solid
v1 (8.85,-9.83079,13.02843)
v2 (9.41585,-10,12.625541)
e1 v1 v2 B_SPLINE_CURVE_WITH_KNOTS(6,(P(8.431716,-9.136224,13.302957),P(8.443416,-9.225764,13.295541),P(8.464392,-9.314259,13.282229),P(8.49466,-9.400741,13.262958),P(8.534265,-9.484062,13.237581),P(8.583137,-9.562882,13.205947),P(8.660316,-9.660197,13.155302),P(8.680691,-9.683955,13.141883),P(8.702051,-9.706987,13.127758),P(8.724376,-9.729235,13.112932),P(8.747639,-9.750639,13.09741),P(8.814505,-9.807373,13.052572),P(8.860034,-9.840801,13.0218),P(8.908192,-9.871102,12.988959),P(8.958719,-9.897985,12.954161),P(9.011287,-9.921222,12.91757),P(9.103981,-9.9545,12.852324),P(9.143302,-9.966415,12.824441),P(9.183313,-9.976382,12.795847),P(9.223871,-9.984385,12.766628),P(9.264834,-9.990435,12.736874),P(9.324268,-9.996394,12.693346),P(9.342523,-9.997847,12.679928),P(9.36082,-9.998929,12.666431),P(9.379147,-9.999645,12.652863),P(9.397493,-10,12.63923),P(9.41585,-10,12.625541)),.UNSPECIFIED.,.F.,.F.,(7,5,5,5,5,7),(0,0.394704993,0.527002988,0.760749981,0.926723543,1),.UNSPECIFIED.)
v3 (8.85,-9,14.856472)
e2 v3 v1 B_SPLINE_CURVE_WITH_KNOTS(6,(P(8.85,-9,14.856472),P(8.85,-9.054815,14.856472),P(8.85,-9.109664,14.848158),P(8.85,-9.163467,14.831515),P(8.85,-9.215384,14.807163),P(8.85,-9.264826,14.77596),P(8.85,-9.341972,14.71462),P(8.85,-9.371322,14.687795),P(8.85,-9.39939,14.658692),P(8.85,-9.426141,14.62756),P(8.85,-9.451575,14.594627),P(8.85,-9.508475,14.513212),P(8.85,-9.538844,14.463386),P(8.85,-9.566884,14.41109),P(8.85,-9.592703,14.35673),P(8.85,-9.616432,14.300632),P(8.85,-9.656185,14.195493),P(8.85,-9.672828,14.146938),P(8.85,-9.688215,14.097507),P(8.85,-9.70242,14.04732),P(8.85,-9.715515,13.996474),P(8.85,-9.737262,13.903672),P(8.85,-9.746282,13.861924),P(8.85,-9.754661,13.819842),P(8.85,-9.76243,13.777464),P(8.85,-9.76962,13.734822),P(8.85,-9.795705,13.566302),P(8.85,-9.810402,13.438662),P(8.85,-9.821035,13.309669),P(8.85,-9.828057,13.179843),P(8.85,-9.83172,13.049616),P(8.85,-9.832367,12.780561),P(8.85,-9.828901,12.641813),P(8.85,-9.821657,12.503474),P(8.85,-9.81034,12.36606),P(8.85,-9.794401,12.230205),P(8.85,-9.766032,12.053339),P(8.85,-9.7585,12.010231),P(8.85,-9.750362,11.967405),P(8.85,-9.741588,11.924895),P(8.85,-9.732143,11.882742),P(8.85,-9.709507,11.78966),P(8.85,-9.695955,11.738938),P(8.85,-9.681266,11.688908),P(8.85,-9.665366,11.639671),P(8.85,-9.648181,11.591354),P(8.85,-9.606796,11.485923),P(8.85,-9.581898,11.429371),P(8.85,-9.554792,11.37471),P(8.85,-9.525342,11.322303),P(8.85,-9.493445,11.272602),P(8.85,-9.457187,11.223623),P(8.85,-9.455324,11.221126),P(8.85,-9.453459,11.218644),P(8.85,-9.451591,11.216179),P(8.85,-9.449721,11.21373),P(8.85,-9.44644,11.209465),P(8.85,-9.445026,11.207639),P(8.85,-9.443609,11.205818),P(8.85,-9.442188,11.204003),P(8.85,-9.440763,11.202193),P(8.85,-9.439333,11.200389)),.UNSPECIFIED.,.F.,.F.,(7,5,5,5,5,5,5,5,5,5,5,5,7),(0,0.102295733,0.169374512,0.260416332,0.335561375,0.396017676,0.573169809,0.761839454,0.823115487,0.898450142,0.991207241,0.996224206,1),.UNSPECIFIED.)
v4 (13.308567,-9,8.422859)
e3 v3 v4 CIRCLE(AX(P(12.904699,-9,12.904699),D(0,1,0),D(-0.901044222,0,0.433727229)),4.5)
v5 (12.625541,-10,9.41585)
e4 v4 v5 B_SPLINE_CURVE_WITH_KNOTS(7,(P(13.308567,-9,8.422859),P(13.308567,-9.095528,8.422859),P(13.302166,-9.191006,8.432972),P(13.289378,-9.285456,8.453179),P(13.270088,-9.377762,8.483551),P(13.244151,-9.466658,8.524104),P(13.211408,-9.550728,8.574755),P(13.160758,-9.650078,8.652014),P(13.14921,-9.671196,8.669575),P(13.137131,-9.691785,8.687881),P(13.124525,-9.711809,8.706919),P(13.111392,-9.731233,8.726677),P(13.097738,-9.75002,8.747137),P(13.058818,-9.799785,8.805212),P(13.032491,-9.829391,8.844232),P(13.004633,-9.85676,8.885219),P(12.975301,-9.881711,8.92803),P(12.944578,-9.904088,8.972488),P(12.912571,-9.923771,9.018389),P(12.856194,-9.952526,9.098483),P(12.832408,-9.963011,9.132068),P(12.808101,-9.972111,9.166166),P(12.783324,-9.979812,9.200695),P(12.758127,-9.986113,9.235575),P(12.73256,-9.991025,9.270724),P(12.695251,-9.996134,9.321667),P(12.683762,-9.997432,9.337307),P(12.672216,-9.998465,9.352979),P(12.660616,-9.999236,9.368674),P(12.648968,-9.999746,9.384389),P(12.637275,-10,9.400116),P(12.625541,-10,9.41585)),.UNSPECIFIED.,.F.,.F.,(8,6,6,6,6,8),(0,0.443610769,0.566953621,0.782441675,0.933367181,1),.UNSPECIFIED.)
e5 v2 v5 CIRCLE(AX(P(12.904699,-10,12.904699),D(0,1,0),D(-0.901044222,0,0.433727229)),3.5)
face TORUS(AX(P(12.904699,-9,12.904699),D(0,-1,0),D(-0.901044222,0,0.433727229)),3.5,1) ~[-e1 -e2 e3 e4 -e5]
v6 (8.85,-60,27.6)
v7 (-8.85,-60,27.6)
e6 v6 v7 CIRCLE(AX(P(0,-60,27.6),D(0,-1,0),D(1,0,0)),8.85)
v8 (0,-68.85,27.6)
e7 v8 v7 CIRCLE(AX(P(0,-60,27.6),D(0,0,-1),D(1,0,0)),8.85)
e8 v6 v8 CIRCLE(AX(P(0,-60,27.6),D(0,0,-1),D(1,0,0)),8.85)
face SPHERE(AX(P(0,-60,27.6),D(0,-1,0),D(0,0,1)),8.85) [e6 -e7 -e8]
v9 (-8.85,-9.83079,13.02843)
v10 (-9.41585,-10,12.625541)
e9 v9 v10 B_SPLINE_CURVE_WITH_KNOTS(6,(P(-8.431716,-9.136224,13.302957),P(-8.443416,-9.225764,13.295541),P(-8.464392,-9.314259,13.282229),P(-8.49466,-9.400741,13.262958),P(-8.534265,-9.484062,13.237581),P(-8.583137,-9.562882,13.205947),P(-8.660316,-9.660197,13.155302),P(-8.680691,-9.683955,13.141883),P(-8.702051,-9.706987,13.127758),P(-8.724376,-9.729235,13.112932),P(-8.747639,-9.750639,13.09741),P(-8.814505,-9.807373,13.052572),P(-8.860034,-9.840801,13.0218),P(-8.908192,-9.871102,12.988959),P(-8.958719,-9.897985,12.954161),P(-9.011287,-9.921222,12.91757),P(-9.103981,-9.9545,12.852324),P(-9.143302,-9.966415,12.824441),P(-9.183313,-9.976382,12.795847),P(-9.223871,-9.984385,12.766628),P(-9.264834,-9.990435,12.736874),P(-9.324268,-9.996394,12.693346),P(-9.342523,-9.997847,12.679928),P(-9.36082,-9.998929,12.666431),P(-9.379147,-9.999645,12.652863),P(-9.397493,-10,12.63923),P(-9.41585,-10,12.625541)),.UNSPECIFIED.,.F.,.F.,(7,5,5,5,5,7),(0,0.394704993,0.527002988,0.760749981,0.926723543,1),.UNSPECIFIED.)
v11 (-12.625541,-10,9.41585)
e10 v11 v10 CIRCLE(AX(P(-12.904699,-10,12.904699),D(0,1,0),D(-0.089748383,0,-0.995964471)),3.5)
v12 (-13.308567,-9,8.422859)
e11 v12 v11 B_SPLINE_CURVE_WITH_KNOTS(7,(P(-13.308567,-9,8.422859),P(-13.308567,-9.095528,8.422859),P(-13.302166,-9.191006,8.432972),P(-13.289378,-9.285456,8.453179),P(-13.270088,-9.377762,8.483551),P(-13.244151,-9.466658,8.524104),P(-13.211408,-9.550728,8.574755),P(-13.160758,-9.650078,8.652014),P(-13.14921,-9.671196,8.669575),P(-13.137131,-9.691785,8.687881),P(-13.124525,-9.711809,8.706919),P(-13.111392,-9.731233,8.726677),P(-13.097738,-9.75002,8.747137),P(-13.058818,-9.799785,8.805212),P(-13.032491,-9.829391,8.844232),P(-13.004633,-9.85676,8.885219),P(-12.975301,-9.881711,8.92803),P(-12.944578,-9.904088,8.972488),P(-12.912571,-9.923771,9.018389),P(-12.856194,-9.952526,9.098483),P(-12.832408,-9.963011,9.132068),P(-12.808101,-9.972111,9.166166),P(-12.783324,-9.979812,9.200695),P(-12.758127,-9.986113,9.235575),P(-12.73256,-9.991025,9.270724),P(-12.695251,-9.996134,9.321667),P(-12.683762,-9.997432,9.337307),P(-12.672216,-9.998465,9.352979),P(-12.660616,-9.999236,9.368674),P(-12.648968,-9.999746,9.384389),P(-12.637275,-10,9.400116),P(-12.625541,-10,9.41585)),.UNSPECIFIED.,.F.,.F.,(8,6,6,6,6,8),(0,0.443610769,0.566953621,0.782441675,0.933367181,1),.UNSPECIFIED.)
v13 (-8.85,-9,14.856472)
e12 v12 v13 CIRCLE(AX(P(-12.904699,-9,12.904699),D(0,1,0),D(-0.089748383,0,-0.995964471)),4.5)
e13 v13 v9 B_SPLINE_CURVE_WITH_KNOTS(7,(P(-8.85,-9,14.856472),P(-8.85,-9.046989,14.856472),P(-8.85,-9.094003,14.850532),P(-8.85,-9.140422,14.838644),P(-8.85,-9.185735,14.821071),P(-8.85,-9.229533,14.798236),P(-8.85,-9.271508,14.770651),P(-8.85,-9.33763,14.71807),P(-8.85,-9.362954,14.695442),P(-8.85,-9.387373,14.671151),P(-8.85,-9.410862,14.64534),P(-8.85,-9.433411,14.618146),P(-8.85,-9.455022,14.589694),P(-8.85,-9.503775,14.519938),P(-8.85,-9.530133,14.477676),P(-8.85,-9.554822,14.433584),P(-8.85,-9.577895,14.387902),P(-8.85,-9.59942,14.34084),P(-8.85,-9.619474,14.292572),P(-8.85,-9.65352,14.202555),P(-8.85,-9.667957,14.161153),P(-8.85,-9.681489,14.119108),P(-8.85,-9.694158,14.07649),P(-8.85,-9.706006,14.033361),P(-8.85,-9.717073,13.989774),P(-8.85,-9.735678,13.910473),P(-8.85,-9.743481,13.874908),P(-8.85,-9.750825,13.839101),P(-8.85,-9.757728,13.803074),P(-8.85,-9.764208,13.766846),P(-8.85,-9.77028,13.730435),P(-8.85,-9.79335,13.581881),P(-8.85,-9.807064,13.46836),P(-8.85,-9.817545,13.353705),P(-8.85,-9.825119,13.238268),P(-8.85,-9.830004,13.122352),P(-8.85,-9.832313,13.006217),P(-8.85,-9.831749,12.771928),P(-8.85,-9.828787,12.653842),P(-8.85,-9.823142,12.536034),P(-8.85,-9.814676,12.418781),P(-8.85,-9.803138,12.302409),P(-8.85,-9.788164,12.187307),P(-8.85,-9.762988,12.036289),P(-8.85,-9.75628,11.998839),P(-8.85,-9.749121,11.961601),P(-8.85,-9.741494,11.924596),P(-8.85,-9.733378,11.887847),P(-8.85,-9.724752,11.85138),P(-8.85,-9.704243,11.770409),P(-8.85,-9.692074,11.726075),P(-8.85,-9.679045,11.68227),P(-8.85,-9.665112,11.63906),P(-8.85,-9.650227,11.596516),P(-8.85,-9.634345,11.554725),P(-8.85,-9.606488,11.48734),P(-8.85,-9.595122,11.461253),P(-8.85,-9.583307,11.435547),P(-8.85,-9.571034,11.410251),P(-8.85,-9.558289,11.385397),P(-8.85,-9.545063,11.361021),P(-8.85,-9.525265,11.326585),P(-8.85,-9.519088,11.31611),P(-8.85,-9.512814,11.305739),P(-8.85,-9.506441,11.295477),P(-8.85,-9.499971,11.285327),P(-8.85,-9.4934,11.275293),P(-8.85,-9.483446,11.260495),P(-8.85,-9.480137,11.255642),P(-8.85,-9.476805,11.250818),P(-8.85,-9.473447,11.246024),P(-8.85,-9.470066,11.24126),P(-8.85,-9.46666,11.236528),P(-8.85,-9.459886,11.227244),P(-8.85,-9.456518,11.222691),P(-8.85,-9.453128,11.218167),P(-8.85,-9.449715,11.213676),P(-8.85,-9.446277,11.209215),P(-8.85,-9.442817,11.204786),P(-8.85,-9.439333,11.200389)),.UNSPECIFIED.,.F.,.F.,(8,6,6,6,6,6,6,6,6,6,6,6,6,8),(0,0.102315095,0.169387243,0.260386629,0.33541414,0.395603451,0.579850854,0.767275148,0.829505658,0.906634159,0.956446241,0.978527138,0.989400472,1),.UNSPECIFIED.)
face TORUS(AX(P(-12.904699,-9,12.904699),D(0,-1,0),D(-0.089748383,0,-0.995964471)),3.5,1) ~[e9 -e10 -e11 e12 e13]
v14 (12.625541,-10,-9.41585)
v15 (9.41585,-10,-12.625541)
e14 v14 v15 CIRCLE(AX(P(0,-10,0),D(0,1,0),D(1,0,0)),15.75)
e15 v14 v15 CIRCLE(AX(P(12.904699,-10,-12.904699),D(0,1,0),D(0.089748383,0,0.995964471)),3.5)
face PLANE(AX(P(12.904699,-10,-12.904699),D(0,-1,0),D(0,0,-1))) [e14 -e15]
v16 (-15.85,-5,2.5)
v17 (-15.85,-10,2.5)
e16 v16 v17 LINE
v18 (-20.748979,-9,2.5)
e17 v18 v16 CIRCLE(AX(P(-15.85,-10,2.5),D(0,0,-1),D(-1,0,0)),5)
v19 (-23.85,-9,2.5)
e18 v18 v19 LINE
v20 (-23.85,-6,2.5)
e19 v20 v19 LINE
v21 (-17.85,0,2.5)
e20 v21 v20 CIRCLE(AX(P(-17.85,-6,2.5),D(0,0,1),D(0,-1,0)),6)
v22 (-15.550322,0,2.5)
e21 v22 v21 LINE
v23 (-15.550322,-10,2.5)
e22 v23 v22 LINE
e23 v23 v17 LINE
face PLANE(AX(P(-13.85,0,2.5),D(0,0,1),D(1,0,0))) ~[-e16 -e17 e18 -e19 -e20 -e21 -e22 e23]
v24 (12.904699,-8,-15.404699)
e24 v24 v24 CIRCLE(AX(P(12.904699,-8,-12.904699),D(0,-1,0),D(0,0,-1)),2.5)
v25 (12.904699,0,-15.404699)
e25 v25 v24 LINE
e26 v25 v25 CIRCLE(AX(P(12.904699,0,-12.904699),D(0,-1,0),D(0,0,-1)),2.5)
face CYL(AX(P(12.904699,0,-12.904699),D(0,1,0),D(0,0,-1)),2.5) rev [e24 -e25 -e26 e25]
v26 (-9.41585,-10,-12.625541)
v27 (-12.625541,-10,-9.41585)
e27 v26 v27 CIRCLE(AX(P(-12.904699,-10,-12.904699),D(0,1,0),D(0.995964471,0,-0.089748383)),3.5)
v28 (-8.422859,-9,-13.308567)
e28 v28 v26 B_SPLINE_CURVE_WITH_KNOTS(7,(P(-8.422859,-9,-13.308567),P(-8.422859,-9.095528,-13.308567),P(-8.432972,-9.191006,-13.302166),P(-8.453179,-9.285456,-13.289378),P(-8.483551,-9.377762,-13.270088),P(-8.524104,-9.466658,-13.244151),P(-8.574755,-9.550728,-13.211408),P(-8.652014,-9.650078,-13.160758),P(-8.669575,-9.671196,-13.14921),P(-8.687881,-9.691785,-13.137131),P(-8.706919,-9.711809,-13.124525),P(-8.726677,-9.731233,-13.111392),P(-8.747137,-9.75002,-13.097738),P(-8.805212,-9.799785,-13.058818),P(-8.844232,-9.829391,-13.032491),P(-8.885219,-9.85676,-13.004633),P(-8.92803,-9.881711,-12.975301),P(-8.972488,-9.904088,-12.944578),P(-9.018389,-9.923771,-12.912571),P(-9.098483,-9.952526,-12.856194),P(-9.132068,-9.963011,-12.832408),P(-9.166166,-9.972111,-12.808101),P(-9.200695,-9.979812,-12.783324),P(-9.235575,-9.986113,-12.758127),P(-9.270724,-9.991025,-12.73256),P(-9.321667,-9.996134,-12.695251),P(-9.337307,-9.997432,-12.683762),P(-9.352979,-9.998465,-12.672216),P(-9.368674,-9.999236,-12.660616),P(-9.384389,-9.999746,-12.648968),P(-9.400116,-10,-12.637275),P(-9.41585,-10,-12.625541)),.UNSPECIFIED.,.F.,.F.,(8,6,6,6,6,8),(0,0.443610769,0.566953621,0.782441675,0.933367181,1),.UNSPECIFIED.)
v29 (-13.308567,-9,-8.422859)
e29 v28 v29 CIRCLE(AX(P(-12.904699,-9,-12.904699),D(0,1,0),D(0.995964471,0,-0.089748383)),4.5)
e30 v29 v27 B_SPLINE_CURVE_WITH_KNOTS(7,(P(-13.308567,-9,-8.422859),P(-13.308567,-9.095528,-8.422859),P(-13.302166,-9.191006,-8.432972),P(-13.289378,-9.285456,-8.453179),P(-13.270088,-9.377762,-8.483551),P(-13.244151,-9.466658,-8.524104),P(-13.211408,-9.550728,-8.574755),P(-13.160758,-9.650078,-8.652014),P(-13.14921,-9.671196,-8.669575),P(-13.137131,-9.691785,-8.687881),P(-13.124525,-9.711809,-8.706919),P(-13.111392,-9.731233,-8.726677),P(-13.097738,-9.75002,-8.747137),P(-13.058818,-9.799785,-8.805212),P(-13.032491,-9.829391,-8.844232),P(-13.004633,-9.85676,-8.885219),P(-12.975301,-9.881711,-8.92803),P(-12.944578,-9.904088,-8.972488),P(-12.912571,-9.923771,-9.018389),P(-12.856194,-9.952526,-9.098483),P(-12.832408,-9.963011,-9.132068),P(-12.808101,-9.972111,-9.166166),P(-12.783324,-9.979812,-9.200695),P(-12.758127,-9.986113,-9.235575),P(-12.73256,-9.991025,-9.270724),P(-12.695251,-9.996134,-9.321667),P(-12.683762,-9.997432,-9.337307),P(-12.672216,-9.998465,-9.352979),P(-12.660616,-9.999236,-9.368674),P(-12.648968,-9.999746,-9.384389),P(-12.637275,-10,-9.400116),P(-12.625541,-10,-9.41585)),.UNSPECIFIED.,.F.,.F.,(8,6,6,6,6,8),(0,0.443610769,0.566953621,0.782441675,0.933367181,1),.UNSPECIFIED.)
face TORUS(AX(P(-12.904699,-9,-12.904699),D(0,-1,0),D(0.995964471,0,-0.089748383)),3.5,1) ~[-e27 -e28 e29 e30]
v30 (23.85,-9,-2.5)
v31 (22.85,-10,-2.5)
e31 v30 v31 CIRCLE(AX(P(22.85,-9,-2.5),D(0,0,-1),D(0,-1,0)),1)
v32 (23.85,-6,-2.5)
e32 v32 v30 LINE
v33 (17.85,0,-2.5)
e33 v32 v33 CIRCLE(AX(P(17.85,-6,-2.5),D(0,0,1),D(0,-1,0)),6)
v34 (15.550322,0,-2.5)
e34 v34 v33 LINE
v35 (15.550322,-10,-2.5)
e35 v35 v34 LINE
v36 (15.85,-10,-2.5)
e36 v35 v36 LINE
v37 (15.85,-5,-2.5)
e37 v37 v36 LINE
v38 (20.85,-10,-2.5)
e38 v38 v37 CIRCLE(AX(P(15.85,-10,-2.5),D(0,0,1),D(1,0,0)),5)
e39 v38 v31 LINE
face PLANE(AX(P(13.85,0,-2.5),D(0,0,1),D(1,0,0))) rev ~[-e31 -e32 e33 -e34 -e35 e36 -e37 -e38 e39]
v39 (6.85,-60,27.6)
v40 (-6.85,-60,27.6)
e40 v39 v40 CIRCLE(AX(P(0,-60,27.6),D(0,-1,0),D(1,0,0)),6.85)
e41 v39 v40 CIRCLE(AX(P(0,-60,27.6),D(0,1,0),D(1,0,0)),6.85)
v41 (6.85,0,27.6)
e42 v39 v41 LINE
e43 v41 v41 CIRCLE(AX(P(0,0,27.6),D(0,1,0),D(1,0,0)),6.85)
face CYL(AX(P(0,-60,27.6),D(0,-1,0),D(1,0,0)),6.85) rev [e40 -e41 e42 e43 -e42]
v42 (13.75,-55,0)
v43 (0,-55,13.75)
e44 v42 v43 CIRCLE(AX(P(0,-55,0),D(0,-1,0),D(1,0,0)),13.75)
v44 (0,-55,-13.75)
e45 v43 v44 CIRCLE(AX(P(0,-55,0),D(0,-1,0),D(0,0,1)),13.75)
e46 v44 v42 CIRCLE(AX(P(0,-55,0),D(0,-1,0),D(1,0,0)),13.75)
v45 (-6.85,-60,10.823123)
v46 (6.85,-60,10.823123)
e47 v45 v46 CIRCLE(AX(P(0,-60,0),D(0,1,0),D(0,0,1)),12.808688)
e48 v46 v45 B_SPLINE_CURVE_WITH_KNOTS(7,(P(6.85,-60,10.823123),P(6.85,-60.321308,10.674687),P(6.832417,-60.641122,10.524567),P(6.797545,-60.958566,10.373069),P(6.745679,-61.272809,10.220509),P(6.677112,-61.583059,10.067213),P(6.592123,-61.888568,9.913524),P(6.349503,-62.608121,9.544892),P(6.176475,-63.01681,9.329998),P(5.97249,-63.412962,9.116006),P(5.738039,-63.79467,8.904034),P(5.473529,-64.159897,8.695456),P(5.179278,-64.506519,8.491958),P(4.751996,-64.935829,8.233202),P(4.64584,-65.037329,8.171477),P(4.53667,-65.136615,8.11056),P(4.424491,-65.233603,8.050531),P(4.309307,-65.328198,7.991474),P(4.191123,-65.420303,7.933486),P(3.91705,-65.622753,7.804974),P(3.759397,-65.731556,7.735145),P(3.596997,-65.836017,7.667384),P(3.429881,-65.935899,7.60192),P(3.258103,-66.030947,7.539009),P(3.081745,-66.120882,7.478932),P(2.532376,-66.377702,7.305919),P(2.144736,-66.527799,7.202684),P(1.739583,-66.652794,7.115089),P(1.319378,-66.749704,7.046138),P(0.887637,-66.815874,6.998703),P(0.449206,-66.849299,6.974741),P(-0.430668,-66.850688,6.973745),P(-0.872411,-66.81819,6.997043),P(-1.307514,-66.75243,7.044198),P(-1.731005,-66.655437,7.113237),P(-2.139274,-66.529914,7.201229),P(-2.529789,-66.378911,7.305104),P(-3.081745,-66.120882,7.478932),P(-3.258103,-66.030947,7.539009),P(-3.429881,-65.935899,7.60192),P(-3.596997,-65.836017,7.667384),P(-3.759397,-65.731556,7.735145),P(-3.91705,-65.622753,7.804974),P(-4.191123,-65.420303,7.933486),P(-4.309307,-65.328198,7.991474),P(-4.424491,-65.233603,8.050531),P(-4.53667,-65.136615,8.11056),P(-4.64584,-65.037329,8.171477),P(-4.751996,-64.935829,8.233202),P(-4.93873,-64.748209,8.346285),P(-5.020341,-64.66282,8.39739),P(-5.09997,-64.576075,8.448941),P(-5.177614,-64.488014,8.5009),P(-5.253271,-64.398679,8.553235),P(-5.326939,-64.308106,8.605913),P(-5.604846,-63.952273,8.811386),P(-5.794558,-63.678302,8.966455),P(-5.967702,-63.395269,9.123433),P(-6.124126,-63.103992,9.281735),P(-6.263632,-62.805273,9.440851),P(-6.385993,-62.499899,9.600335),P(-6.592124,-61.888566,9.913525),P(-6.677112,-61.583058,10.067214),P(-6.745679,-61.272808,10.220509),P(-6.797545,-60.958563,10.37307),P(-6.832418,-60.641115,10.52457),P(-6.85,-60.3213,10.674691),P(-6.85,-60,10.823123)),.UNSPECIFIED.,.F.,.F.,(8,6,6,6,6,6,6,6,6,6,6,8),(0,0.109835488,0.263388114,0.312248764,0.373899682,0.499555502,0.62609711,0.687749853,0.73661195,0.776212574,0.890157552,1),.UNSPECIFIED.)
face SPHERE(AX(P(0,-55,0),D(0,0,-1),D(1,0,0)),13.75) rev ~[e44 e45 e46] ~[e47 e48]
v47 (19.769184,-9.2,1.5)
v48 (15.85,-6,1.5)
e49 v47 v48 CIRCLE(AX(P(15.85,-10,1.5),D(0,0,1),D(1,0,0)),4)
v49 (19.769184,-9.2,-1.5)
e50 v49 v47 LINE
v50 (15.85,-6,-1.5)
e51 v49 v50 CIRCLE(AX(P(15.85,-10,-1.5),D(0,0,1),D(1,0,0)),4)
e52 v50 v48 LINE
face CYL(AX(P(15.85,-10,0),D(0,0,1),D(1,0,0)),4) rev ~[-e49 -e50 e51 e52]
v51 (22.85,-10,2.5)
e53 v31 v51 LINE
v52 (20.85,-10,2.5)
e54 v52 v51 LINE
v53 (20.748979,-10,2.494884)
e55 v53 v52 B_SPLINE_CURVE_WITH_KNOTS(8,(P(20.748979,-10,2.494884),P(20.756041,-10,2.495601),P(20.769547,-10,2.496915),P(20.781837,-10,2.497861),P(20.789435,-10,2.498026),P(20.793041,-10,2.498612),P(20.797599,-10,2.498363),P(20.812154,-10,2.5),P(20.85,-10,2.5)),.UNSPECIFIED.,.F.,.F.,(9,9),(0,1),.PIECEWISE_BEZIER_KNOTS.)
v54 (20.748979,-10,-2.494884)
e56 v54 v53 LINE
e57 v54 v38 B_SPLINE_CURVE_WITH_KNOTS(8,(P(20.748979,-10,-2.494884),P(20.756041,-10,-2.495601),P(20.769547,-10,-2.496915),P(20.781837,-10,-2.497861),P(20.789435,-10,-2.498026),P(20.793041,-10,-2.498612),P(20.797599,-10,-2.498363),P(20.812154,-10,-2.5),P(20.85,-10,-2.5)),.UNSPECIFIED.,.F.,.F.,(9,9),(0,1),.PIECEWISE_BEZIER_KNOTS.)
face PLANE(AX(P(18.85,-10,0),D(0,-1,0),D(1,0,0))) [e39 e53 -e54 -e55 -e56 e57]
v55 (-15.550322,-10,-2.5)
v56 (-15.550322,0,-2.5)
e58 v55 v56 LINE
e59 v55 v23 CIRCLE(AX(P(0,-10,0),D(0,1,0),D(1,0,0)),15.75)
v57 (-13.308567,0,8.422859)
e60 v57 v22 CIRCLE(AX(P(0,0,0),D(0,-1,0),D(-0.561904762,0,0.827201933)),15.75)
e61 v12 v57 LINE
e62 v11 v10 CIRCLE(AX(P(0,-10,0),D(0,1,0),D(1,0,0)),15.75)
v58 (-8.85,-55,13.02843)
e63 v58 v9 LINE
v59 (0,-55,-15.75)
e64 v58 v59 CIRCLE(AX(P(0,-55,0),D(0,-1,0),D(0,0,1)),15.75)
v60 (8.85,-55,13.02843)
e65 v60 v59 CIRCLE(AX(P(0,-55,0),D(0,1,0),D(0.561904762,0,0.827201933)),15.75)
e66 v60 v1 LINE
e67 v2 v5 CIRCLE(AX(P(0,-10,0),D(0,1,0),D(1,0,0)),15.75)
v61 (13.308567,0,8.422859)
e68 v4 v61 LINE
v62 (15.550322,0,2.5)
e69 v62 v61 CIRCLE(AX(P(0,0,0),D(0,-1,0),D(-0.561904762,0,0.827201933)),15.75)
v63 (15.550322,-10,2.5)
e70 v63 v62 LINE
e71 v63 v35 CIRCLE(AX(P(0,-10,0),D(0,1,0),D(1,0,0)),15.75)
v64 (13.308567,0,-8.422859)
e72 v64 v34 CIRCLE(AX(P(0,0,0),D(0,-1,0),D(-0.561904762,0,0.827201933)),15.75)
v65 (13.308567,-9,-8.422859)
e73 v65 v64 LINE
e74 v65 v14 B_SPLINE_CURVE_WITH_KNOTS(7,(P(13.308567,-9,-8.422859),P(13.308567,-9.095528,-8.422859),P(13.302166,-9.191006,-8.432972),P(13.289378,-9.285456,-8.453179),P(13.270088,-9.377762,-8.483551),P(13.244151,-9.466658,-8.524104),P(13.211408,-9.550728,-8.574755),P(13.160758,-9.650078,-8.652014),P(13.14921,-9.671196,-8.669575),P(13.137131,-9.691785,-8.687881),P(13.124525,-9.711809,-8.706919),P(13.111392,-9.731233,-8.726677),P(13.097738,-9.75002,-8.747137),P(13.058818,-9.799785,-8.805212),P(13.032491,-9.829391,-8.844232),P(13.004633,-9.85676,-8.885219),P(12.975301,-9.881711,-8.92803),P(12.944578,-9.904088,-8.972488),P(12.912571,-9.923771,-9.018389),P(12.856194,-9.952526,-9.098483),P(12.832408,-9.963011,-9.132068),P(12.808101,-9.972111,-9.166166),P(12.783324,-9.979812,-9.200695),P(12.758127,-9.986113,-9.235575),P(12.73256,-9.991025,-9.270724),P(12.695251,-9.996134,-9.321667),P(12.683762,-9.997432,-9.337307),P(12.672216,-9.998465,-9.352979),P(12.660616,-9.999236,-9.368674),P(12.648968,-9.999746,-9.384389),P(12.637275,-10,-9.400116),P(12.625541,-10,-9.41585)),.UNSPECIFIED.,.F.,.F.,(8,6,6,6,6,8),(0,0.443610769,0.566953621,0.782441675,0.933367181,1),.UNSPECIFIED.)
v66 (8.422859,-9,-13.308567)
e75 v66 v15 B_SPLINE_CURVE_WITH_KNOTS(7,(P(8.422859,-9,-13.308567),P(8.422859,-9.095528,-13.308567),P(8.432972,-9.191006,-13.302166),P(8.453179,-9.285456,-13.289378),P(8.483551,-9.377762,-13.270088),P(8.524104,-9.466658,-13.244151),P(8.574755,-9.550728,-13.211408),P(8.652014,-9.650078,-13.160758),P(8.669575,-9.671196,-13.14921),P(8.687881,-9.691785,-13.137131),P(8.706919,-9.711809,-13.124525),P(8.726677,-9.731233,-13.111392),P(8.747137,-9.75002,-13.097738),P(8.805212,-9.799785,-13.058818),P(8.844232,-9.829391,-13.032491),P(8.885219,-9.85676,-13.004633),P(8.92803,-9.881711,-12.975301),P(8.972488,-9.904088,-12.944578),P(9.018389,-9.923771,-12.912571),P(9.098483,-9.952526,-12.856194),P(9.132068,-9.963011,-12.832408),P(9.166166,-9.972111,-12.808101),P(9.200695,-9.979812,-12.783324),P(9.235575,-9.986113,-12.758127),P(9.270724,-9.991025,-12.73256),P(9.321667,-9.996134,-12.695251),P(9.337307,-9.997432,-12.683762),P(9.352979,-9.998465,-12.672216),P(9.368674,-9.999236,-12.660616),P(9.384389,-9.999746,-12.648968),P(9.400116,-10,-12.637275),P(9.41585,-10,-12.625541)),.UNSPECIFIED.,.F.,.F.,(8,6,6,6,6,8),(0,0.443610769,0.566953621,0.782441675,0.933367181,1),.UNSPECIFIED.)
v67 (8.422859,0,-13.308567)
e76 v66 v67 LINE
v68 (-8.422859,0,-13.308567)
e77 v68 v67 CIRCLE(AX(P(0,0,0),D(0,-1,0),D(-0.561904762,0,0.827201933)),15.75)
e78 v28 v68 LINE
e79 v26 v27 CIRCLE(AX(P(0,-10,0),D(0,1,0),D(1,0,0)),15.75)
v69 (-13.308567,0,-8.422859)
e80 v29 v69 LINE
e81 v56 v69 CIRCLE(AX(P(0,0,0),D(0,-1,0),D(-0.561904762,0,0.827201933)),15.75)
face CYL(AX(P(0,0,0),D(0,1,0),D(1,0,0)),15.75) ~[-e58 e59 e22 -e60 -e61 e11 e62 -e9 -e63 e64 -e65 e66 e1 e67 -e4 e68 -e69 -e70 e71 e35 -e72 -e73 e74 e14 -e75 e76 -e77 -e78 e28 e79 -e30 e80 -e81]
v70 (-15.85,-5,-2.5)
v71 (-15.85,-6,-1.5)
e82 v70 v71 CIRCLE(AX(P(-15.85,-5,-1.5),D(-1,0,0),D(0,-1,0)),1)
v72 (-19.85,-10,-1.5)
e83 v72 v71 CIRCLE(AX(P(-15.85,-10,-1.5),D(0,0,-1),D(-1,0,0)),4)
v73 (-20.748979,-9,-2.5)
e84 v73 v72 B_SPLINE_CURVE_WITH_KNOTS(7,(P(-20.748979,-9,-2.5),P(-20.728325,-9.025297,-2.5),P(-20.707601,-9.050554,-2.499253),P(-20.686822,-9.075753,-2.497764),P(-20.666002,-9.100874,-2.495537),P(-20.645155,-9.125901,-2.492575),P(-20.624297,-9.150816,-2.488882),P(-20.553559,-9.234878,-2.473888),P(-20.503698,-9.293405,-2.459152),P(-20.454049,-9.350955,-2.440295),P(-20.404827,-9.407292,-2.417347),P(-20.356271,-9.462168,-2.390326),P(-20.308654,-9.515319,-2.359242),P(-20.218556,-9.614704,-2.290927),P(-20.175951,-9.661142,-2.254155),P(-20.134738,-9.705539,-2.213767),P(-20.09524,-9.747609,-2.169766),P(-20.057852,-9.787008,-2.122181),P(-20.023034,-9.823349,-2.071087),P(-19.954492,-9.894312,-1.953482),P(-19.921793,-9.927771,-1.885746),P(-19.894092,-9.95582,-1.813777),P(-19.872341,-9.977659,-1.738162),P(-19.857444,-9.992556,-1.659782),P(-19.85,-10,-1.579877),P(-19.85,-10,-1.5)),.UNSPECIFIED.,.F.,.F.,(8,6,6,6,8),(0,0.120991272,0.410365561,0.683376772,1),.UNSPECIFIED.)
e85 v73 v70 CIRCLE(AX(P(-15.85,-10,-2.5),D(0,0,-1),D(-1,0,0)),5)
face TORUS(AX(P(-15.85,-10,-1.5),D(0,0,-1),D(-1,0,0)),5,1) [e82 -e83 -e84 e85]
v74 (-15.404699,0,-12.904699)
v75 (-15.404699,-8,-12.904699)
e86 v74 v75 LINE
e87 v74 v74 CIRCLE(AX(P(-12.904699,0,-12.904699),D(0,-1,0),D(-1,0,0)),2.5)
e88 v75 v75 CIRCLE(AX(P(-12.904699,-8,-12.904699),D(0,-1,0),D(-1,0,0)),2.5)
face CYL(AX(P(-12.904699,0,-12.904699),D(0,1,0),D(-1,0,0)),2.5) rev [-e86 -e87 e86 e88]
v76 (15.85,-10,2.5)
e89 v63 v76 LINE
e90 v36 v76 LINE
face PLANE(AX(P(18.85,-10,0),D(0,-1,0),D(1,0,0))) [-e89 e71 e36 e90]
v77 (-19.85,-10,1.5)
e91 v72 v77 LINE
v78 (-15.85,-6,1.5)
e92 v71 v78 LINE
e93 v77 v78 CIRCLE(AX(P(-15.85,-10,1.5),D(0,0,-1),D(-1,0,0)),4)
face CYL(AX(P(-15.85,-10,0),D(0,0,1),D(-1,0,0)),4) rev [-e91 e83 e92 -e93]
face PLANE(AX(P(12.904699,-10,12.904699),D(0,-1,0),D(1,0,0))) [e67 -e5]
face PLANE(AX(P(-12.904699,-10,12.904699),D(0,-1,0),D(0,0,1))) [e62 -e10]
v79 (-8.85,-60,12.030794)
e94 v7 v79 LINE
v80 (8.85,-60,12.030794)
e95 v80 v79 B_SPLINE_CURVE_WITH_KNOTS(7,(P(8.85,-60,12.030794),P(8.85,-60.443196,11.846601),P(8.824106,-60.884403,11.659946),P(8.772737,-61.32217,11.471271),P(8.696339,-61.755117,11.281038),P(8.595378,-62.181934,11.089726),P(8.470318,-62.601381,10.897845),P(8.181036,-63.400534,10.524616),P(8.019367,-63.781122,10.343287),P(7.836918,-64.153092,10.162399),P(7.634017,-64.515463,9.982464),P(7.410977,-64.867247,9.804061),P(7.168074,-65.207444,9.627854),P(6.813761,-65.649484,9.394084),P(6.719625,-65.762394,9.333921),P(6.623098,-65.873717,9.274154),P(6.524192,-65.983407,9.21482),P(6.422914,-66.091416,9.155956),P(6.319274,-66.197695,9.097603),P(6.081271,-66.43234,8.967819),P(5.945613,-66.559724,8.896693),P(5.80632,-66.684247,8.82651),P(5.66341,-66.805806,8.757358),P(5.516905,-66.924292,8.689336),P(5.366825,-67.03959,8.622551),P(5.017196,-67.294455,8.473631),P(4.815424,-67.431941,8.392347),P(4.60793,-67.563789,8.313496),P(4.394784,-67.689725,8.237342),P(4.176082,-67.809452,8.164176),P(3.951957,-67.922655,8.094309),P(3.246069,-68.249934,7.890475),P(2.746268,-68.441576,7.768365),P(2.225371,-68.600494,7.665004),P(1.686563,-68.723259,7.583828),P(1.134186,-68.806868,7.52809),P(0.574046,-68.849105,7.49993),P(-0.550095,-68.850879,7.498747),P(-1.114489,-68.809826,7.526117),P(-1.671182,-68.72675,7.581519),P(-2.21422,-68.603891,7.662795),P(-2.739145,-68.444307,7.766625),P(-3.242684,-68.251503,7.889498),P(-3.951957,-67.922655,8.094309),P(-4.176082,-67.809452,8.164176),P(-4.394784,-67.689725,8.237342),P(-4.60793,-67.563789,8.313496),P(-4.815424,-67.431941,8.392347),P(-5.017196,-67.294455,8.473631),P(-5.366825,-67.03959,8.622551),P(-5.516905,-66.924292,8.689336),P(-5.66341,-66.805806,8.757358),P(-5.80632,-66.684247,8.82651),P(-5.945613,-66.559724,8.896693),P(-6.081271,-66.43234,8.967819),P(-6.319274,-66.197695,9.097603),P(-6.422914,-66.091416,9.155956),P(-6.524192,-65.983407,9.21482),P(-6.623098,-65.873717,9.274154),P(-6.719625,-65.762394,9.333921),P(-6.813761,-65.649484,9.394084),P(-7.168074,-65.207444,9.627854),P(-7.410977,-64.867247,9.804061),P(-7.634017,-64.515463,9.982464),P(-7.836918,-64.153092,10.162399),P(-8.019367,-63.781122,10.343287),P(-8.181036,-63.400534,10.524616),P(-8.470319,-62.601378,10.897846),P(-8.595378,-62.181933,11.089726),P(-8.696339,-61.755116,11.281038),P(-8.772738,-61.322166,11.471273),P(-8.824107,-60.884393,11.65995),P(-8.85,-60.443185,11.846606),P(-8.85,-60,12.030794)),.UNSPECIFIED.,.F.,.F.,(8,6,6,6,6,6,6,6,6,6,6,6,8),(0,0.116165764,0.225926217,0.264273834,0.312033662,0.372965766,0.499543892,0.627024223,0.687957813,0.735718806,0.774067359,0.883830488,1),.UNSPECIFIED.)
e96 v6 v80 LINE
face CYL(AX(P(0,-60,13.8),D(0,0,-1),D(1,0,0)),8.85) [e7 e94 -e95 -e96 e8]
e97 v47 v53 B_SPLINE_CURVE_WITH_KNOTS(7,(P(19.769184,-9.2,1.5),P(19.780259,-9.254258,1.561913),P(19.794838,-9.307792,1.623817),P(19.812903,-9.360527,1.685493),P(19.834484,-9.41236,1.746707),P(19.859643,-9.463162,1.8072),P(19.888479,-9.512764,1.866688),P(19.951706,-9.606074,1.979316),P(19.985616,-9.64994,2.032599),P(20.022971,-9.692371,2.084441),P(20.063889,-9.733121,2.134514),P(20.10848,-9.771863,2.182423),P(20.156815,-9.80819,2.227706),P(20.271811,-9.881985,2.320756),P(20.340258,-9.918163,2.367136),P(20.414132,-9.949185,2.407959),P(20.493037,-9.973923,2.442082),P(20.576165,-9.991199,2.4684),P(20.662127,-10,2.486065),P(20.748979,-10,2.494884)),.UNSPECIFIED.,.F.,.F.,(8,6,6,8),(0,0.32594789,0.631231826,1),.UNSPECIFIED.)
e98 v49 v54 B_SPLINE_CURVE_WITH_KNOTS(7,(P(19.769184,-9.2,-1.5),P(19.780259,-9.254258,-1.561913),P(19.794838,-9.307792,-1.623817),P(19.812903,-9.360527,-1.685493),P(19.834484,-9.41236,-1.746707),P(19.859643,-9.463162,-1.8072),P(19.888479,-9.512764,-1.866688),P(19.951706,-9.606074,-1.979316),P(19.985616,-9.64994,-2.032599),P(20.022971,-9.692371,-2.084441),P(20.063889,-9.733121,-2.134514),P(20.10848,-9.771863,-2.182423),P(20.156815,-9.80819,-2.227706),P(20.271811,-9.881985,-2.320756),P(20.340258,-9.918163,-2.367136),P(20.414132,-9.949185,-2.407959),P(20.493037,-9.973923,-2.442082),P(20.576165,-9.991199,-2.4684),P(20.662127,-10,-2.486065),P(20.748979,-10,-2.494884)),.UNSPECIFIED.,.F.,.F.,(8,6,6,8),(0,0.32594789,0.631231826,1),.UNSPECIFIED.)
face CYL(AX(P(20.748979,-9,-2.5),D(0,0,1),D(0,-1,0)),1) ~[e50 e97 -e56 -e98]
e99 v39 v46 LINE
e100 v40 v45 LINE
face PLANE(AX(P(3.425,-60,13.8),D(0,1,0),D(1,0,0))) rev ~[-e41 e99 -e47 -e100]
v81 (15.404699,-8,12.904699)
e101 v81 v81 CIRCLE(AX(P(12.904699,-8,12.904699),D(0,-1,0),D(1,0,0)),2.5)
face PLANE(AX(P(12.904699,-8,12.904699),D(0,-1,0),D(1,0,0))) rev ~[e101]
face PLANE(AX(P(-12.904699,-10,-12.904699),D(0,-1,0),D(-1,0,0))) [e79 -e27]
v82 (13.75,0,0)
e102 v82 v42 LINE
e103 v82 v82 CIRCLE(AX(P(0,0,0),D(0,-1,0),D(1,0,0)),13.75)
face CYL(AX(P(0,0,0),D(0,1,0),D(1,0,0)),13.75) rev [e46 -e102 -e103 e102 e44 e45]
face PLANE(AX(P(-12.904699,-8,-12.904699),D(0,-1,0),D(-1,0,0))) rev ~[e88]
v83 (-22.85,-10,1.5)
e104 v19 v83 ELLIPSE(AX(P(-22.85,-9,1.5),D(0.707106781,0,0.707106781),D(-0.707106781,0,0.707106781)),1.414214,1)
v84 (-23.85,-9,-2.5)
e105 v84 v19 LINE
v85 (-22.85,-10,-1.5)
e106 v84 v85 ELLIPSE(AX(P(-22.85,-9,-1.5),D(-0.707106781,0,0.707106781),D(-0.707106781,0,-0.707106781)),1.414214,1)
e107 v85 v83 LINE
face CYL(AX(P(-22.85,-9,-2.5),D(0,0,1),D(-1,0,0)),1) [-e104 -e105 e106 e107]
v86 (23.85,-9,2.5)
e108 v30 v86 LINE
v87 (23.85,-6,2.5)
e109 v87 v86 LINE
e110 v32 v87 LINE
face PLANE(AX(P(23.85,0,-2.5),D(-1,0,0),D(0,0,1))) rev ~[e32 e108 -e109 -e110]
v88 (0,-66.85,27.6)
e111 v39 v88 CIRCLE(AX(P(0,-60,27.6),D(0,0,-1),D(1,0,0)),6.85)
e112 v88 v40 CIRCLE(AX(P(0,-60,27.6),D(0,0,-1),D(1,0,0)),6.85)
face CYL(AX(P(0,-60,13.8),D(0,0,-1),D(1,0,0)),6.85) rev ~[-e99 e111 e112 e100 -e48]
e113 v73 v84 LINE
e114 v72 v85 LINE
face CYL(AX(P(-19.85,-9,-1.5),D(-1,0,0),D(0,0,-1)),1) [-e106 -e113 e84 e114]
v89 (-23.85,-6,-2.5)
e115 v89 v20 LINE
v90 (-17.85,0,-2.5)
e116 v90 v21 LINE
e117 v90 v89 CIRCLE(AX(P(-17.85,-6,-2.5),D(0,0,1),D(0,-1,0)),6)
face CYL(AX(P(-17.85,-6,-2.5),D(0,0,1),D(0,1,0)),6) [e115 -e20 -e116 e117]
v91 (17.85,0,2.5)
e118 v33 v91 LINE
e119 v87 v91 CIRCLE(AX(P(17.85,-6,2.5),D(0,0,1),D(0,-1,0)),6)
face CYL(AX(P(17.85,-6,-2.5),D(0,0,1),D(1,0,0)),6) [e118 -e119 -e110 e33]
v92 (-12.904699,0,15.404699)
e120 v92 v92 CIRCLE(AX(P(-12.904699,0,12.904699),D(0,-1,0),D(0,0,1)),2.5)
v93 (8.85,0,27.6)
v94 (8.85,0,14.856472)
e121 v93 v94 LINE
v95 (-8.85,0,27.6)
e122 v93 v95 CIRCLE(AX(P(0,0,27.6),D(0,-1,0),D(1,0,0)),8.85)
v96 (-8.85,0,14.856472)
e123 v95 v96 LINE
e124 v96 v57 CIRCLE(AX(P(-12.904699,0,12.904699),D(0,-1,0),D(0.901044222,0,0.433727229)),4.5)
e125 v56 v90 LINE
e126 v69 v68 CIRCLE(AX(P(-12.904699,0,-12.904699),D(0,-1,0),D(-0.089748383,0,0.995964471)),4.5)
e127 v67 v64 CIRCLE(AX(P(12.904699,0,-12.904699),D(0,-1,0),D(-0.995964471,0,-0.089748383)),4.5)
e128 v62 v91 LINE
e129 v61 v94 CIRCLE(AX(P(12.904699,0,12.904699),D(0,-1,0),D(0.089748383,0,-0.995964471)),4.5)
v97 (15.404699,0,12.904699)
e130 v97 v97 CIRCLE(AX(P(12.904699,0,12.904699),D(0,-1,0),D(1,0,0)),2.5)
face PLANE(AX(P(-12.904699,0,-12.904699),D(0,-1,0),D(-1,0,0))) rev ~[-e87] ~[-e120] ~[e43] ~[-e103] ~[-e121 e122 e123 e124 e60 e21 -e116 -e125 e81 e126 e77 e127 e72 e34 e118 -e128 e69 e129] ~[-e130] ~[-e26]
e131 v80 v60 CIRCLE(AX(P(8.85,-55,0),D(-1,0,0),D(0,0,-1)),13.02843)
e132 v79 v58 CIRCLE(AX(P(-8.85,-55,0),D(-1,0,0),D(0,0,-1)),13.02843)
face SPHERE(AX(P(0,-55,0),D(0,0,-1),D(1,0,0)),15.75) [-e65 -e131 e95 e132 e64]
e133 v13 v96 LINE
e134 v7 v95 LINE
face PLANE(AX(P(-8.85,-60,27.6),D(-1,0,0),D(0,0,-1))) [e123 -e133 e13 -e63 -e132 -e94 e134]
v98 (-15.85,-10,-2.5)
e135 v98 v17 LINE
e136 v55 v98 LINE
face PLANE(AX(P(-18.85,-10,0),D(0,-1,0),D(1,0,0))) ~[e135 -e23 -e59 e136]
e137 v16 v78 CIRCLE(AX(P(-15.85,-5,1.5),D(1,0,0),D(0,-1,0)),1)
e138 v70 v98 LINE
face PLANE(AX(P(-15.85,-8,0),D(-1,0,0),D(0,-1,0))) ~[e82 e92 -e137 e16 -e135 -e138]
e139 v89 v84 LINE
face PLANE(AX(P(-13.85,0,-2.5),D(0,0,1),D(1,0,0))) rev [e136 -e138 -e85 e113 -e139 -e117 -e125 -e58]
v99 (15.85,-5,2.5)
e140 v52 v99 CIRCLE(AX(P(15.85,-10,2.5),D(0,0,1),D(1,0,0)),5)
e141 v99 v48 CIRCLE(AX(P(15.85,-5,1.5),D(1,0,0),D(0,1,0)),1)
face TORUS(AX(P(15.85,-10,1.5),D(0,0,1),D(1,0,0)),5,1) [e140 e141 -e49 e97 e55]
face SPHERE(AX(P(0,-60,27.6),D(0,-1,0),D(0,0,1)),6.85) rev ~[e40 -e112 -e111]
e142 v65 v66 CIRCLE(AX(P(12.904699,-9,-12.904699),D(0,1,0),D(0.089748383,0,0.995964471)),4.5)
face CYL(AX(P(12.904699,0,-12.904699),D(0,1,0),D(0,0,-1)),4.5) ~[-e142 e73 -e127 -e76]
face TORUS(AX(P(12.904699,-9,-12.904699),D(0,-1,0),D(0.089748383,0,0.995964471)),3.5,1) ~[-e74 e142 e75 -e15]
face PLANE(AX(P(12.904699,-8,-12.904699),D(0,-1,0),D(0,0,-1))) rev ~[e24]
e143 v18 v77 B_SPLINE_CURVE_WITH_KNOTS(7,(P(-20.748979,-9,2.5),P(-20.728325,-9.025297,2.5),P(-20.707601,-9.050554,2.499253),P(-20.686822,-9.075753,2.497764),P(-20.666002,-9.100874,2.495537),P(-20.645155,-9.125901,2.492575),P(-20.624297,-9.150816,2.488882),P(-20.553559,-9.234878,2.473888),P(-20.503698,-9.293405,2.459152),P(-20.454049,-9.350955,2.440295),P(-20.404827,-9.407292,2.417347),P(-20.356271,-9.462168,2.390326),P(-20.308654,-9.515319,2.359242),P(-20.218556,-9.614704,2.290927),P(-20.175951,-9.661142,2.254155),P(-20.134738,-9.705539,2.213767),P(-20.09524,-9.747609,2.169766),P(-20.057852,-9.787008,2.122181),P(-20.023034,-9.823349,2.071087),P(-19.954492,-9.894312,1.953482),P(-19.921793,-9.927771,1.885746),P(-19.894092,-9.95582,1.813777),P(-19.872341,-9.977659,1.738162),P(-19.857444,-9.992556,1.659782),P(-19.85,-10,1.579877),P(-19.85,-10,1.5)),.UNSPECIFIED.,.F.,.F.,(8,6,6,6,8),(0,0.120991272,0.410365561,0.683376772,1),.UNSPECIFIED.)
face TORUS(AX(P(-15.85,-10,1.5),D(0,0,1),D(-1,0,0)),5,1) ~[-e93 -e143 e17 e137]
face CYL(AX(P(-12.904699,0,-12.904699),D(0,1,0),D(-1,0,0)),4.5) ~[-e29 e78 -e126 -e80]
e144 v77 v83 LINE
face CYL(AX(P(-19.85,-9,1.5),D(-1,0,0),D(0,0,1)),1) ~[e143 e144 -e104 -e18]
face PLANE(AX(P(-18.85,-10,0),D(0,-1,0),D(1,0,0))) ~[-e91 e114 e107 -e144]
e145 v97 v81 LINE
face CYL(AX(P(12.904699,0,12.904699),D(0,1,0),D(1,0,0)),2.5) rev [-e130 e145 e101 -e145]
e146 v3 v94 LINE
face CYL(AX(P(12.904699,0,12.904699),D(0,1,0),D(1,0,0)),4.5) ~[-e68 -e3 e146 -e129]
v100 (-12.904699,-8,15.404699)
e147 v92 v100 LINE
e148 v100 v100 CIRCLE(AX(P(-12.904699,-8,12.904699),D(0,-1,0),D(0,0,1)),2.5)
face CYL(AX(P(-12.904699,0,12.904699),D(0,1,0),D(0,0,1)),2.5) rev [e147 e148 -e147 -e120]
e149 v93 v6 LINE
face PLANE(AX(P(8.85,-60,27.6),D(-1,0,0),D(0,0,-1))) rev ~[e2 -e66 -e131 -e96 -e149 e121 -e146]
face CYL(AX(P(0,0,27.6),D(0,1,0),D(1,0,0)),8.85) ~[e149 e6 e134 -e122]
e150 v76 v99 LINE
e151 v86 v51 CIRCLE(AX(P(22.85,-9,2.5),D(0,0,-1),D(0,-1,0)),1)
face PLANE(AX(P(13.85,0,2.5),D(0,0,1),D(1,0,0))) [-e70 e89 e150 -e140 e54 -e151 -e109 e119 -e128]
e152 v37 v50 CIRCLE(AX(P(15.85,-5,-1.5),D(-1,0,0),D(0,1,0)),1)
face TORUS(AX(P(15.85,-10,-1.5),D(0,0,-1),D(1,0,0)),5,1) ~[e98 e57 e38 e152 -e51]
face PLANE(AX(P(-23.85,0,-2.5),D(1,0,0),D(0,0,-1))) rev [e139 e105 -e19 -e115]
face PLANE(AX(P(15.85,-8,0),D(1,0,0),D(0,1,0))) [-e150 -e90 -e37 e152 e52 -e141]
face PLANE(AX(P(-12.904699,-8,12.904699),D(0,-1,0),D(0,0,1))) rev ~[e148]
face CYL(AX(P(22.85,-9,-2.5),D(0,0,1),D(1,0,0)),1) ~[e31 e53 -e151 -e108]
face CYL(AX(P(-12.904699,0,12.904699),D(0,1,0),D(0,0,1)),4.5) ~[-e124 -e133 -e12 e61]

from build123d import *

# Parameters (mm, degrees)
CYLINDER001_R         = 8.85
CYLINDER001_DEPTH     = 60
BOX_W                 = 17.7
BOX_H                 = 27.6
BOX_DEPTH             = 60
SPHERE_ANGLE          = 180
CYLINDER_W            = 8.85
CYLINDER_H            = 27.6
CYLINDER_ANGLE        = 180
CYLINDER002_R         = 15.75
CYLINDER002_DEPTH     = 55
CYLINDER003_R         = 13.75
CYLINDER003_DEPTH     = 55
CYLINDER004_W         = 6.85
CYLINDER004_H         = 27.6
CYLINDER004_ANGLE     = 180
SPHERE003_ANGLE       = 180
CYLINDER005_R         = 6.85
CYLINDER005_DEPTH     = 60
CYLINDER006_R         = 4.5
CYLINDER006_DEPTH     = 10
POLARPATTERN_COUNT    = 4
CYLINDER007_R         = 2.5
CYLINDER007_DEPTH     = 8
POLARPATTERN001_COUNT = 4
BOX018_W              = 10
BOX018_H              = 5
BOX018_DEPTH          = 10
CYLINDER022_W         = 4
CYLINDER022_H         = 5
CYLINDER022_ANGLE     = 90
FILLET017_R           = 1
FILLET018_R           = 6
FILLET019_R           = 1


with BuildPart() as part:
    # Cylinder001 → Cylinder001 (join)
    with BuildSketch(Plane(origin=(0, 0, 27.6), x_dir=(1, 0, 0), z_dir=(0, -1, 0))):
        Circle(CYLINDER001_R)
    extrude(amount=CYLINDER001_DEPTH)

    # Box → Box (join)
    with BuildSketch(Plane(origin=(-8.85, -60, 27.6), x_dir=(1, 0, 0), z_dir=(0, 1, 0))):
        with Locations((8.85, 13.8)):
            Rectangle(BOX_W, BOX_H)
    extrude(amount=BOX_DEPTH)

    # Sphere → Sphere (revolve)
    with BuildSketch(Plane(origin=(0, -55, 0), x_dir=(1, 0, 0), z_dir=(0, 1, 0))):
        with BuildLine():
            ThreePointArc((0, -15.75), (15.75, 0), (0, 15.75))
            Line((0, 15.75), (0, -15.75))
        make_face()
    revolve(axis=Axis((0, -55, 0), (0, 0, -1)), revolution_arc=SPHERE_ANGLE)

    # Sphere002 → Sphere002 (revolve)
    with BuildSketch(Plane(origin=(0, -60, 27.6), x_dir=(0, 0, 1), z_dir=(1, 0, 0))):
        with BuildLine():
            ThreePointArc((0, -8.85), (8.85, 0), (0, 8.85))
            Line((0, 8.85), (0, -8.85))
        make_face()
    revolve(axis=Axis((0, -60, 27.6), (0, -1, 0)))

    # Cylinder → Cylinder (revolve)
    with BuildSketch(Plane(origin=(0, -60, 27.6), x_dir=(1, 0, 0), z_dir=(0, 1, 0))):
        with Locations((4.425, 13.8)):
            Rectangle(CYLINDER_W, CYLINDER_H)
    revolve(axis=Axis((0, -60, 27.6), (0, 0, -1)), revolution_arc=CYLINDER_ANGLE)

    # Cylinder002 → Cylinder002 (join)
    with BuildSketch(Plane.XZ):
        Circle(CYLINDER002_R)
    extrude(amount=CYLINDER002_DEPTH)

    # Cylinder003 → Cylinder003 (cut)
    with BuildSketch(Plane.XZ):
        Circle(CYLINDER003_R)
    extrude(amount=CYLINDER003_DEPTH, mode=Mode.SUBTRACT)

    # Cylinder004 → Cylinder004 (revolve, cut)
    with BuildSketch(Plane(origin=(0, -60, 27.6), x_dir=(1, 0, 0), z_dir=(0, 1, 0))):
        with Locations((3.425, 13.8)):
            Rectangle(CYLINDER004_W, CYLINDER004_H)
    revolve(axis=Axis((0, -60, 27.6), (0, 0, -1)), revolution_arc=CYLINDER004_ANGLE, mode=Mode.SUBTRACT)

    # Sphere003 → Sphere003 (revolve, cut)
    with BuildSketch(Plane(origin=(0, -55, 0), x_dir=(1, 0, 0), z_dir=(0, 1, 0))):
        with BuildLine():
            ThreePointArc((0, -13.75), (13.75, 0), (0, 13.75))
            Line((0, 13.75), (0, -13.75))
        make_face()
    revolve(axis=Axis((0, -55, 0), (0, 0, -1)), revolution_arc=SPHERE003_ANGLE, mode=Mode.SUBTRACT)

    # Cylinder005 → Cylinder005 (cut)
    with BuildSketch(Plane(origin=(0, -60, 27.6), x_dir=(1, 0, 0), z_dir=(0, 1, 0))):
        Circle(CYLINDER005_R)
    extrude(amount=CYLINDER005_DEPTH, mode=Mode.SUBTRACT)

    # Sphere004 → Sphere004 (revolve, cut)
    with BuildSketch(Plane(origin=(0, -60, 27.6), x_dir=(0, 0, 1), z_dir=(1, 0, 0))):
        with BuildLine():
            ThreePointArc((0, -6.85), (6.85, 0), (0, 6.85))
            Line((0, 6.85), (0, -6.85))
        make_face()
    revolve(axis=Axis((0, -60, 27.6), (0, -1, 0)), mode=Mode.SUBTRACT)

    # Cylinder006 → Cylinder006 (join)
    with BuildSketch(Plane(origin=(-12.904699, 0, 12.904699), x_dir=(0, 0, 1), z_dir=(0, -1, 0))):
        Circle(CYLINDER006_R)
    cylinder006 = extrude(amount=CYLINDER006_DEPTH)

    # PolarPattern: Cylinder006 ×4 about axis
    polarpattern_axis = Axis((0, 0, 0), (0, 1, 0))
    for i in range(1, POLARPATTERN_COUNT):
        add(cylinder006.rotate(polarpattern_axis, i * 360 / POLARPATTERN_COUNT))

    # Cylinder007 → Cylinder007 (cut)
    with BuildSketch(Plane(origin=(-12.904699, 0, 12.904699), x_dir=(0, 0, 1), z_dir=(0, -1, 0))):
        Circle(CYLINDER007_R)
    cylinder007 = extrude(amount=CYLINDER007_DEPTH, mode=Mode.SUBTRACT)

    # PolarPattern001: Cylinder007 ×4 about axis
    polarpattern001_axis = Axis((0, 0, 0), (0, 1, 0))
    for i in range(1, POLARPATTERN001_COUNT):
        add(cylinder007.rotate(polarpattern001_axis, i * 360 / POLARPATTERN001_COUNT), mode=Mode.SUBTRACT)

    # Box018 → Box018 (join)
    with BuildSketch(Plane(origin=(13.85, 0, -2.5), x_dir=(1, 0, 0), z_dir=(0, -1, 0))):
        with Locations((5, 2.5)):
            Rectangle(BOX018_W, BOX018_H)
    box018 = extrude(amount=BOX018_DEPTH)

    # Mirrored008: Box018 across YZ
    add(box018.mirror(Plane.YZ))

    # Cylinder022 → Cylinder022 (revolve, cut)
    with BuildSketch(Plane(origin=(15.85, -10, -2.5), x_dir=(1, 0, 0), z_dir=(0, -1, 0))):
        with Locations((2, 2.5)):
            Rectangle(CYLINDER022_W, CYLINDER022_H)
    cylinder022 = revolve(axis=Axis((15.85, -10, -2.5), (0, 0, 1)), revolution_arc=CYLINDER022_ANGLE, mode=Mode.SUBTRACT)

    # Mirrored009: Cylinder022 across YZ
    add(cylinder022.mirror(Plane.YZ), mode=Mode.SUBTRACT)

    # Fillet017
    fillet017_edges = [part.edges().sort_by_distance(p)[0] for p in [
        (23.85, -10, 0),
        (18.678427, -7.171573, 2.5),
        (18.678427, -7.171573, -2.5),
        (19.85, -10, 0),
        (-21.85, -10, 2.5),
        (-18.678427, -7.171573, 2.5),
        (-21.85, -10, -2.5),
        (-18.678427, -7.171573, -2.5),
        (-23.85, -10, 0),
    ]]
    fillet(fillet017_edges, radius=FILLET017_R)

    # Fillet018
    fillet018_edges = [part.edges().sort_by_distance(p)[0] for p in [
        (-23.85, 0, 0),
        (23.85, 0, 0),
    ]]
    fillet(fillet018_edges, radius=FILLET018_R)

    # Fillet019
    fillet019_edges = [part.edges().sort_by_distance(p)[0] for p in [
        (-17.400156, -10, 13.106837),
        (-13.106837, -10, -17.400156),
        (17.400156, -10, -13.106837),
        (16.226401, -10, 9.868863),
    ]]
    fillet(fillet019_edges, radius=FILLET019_R)


solid = part.part
